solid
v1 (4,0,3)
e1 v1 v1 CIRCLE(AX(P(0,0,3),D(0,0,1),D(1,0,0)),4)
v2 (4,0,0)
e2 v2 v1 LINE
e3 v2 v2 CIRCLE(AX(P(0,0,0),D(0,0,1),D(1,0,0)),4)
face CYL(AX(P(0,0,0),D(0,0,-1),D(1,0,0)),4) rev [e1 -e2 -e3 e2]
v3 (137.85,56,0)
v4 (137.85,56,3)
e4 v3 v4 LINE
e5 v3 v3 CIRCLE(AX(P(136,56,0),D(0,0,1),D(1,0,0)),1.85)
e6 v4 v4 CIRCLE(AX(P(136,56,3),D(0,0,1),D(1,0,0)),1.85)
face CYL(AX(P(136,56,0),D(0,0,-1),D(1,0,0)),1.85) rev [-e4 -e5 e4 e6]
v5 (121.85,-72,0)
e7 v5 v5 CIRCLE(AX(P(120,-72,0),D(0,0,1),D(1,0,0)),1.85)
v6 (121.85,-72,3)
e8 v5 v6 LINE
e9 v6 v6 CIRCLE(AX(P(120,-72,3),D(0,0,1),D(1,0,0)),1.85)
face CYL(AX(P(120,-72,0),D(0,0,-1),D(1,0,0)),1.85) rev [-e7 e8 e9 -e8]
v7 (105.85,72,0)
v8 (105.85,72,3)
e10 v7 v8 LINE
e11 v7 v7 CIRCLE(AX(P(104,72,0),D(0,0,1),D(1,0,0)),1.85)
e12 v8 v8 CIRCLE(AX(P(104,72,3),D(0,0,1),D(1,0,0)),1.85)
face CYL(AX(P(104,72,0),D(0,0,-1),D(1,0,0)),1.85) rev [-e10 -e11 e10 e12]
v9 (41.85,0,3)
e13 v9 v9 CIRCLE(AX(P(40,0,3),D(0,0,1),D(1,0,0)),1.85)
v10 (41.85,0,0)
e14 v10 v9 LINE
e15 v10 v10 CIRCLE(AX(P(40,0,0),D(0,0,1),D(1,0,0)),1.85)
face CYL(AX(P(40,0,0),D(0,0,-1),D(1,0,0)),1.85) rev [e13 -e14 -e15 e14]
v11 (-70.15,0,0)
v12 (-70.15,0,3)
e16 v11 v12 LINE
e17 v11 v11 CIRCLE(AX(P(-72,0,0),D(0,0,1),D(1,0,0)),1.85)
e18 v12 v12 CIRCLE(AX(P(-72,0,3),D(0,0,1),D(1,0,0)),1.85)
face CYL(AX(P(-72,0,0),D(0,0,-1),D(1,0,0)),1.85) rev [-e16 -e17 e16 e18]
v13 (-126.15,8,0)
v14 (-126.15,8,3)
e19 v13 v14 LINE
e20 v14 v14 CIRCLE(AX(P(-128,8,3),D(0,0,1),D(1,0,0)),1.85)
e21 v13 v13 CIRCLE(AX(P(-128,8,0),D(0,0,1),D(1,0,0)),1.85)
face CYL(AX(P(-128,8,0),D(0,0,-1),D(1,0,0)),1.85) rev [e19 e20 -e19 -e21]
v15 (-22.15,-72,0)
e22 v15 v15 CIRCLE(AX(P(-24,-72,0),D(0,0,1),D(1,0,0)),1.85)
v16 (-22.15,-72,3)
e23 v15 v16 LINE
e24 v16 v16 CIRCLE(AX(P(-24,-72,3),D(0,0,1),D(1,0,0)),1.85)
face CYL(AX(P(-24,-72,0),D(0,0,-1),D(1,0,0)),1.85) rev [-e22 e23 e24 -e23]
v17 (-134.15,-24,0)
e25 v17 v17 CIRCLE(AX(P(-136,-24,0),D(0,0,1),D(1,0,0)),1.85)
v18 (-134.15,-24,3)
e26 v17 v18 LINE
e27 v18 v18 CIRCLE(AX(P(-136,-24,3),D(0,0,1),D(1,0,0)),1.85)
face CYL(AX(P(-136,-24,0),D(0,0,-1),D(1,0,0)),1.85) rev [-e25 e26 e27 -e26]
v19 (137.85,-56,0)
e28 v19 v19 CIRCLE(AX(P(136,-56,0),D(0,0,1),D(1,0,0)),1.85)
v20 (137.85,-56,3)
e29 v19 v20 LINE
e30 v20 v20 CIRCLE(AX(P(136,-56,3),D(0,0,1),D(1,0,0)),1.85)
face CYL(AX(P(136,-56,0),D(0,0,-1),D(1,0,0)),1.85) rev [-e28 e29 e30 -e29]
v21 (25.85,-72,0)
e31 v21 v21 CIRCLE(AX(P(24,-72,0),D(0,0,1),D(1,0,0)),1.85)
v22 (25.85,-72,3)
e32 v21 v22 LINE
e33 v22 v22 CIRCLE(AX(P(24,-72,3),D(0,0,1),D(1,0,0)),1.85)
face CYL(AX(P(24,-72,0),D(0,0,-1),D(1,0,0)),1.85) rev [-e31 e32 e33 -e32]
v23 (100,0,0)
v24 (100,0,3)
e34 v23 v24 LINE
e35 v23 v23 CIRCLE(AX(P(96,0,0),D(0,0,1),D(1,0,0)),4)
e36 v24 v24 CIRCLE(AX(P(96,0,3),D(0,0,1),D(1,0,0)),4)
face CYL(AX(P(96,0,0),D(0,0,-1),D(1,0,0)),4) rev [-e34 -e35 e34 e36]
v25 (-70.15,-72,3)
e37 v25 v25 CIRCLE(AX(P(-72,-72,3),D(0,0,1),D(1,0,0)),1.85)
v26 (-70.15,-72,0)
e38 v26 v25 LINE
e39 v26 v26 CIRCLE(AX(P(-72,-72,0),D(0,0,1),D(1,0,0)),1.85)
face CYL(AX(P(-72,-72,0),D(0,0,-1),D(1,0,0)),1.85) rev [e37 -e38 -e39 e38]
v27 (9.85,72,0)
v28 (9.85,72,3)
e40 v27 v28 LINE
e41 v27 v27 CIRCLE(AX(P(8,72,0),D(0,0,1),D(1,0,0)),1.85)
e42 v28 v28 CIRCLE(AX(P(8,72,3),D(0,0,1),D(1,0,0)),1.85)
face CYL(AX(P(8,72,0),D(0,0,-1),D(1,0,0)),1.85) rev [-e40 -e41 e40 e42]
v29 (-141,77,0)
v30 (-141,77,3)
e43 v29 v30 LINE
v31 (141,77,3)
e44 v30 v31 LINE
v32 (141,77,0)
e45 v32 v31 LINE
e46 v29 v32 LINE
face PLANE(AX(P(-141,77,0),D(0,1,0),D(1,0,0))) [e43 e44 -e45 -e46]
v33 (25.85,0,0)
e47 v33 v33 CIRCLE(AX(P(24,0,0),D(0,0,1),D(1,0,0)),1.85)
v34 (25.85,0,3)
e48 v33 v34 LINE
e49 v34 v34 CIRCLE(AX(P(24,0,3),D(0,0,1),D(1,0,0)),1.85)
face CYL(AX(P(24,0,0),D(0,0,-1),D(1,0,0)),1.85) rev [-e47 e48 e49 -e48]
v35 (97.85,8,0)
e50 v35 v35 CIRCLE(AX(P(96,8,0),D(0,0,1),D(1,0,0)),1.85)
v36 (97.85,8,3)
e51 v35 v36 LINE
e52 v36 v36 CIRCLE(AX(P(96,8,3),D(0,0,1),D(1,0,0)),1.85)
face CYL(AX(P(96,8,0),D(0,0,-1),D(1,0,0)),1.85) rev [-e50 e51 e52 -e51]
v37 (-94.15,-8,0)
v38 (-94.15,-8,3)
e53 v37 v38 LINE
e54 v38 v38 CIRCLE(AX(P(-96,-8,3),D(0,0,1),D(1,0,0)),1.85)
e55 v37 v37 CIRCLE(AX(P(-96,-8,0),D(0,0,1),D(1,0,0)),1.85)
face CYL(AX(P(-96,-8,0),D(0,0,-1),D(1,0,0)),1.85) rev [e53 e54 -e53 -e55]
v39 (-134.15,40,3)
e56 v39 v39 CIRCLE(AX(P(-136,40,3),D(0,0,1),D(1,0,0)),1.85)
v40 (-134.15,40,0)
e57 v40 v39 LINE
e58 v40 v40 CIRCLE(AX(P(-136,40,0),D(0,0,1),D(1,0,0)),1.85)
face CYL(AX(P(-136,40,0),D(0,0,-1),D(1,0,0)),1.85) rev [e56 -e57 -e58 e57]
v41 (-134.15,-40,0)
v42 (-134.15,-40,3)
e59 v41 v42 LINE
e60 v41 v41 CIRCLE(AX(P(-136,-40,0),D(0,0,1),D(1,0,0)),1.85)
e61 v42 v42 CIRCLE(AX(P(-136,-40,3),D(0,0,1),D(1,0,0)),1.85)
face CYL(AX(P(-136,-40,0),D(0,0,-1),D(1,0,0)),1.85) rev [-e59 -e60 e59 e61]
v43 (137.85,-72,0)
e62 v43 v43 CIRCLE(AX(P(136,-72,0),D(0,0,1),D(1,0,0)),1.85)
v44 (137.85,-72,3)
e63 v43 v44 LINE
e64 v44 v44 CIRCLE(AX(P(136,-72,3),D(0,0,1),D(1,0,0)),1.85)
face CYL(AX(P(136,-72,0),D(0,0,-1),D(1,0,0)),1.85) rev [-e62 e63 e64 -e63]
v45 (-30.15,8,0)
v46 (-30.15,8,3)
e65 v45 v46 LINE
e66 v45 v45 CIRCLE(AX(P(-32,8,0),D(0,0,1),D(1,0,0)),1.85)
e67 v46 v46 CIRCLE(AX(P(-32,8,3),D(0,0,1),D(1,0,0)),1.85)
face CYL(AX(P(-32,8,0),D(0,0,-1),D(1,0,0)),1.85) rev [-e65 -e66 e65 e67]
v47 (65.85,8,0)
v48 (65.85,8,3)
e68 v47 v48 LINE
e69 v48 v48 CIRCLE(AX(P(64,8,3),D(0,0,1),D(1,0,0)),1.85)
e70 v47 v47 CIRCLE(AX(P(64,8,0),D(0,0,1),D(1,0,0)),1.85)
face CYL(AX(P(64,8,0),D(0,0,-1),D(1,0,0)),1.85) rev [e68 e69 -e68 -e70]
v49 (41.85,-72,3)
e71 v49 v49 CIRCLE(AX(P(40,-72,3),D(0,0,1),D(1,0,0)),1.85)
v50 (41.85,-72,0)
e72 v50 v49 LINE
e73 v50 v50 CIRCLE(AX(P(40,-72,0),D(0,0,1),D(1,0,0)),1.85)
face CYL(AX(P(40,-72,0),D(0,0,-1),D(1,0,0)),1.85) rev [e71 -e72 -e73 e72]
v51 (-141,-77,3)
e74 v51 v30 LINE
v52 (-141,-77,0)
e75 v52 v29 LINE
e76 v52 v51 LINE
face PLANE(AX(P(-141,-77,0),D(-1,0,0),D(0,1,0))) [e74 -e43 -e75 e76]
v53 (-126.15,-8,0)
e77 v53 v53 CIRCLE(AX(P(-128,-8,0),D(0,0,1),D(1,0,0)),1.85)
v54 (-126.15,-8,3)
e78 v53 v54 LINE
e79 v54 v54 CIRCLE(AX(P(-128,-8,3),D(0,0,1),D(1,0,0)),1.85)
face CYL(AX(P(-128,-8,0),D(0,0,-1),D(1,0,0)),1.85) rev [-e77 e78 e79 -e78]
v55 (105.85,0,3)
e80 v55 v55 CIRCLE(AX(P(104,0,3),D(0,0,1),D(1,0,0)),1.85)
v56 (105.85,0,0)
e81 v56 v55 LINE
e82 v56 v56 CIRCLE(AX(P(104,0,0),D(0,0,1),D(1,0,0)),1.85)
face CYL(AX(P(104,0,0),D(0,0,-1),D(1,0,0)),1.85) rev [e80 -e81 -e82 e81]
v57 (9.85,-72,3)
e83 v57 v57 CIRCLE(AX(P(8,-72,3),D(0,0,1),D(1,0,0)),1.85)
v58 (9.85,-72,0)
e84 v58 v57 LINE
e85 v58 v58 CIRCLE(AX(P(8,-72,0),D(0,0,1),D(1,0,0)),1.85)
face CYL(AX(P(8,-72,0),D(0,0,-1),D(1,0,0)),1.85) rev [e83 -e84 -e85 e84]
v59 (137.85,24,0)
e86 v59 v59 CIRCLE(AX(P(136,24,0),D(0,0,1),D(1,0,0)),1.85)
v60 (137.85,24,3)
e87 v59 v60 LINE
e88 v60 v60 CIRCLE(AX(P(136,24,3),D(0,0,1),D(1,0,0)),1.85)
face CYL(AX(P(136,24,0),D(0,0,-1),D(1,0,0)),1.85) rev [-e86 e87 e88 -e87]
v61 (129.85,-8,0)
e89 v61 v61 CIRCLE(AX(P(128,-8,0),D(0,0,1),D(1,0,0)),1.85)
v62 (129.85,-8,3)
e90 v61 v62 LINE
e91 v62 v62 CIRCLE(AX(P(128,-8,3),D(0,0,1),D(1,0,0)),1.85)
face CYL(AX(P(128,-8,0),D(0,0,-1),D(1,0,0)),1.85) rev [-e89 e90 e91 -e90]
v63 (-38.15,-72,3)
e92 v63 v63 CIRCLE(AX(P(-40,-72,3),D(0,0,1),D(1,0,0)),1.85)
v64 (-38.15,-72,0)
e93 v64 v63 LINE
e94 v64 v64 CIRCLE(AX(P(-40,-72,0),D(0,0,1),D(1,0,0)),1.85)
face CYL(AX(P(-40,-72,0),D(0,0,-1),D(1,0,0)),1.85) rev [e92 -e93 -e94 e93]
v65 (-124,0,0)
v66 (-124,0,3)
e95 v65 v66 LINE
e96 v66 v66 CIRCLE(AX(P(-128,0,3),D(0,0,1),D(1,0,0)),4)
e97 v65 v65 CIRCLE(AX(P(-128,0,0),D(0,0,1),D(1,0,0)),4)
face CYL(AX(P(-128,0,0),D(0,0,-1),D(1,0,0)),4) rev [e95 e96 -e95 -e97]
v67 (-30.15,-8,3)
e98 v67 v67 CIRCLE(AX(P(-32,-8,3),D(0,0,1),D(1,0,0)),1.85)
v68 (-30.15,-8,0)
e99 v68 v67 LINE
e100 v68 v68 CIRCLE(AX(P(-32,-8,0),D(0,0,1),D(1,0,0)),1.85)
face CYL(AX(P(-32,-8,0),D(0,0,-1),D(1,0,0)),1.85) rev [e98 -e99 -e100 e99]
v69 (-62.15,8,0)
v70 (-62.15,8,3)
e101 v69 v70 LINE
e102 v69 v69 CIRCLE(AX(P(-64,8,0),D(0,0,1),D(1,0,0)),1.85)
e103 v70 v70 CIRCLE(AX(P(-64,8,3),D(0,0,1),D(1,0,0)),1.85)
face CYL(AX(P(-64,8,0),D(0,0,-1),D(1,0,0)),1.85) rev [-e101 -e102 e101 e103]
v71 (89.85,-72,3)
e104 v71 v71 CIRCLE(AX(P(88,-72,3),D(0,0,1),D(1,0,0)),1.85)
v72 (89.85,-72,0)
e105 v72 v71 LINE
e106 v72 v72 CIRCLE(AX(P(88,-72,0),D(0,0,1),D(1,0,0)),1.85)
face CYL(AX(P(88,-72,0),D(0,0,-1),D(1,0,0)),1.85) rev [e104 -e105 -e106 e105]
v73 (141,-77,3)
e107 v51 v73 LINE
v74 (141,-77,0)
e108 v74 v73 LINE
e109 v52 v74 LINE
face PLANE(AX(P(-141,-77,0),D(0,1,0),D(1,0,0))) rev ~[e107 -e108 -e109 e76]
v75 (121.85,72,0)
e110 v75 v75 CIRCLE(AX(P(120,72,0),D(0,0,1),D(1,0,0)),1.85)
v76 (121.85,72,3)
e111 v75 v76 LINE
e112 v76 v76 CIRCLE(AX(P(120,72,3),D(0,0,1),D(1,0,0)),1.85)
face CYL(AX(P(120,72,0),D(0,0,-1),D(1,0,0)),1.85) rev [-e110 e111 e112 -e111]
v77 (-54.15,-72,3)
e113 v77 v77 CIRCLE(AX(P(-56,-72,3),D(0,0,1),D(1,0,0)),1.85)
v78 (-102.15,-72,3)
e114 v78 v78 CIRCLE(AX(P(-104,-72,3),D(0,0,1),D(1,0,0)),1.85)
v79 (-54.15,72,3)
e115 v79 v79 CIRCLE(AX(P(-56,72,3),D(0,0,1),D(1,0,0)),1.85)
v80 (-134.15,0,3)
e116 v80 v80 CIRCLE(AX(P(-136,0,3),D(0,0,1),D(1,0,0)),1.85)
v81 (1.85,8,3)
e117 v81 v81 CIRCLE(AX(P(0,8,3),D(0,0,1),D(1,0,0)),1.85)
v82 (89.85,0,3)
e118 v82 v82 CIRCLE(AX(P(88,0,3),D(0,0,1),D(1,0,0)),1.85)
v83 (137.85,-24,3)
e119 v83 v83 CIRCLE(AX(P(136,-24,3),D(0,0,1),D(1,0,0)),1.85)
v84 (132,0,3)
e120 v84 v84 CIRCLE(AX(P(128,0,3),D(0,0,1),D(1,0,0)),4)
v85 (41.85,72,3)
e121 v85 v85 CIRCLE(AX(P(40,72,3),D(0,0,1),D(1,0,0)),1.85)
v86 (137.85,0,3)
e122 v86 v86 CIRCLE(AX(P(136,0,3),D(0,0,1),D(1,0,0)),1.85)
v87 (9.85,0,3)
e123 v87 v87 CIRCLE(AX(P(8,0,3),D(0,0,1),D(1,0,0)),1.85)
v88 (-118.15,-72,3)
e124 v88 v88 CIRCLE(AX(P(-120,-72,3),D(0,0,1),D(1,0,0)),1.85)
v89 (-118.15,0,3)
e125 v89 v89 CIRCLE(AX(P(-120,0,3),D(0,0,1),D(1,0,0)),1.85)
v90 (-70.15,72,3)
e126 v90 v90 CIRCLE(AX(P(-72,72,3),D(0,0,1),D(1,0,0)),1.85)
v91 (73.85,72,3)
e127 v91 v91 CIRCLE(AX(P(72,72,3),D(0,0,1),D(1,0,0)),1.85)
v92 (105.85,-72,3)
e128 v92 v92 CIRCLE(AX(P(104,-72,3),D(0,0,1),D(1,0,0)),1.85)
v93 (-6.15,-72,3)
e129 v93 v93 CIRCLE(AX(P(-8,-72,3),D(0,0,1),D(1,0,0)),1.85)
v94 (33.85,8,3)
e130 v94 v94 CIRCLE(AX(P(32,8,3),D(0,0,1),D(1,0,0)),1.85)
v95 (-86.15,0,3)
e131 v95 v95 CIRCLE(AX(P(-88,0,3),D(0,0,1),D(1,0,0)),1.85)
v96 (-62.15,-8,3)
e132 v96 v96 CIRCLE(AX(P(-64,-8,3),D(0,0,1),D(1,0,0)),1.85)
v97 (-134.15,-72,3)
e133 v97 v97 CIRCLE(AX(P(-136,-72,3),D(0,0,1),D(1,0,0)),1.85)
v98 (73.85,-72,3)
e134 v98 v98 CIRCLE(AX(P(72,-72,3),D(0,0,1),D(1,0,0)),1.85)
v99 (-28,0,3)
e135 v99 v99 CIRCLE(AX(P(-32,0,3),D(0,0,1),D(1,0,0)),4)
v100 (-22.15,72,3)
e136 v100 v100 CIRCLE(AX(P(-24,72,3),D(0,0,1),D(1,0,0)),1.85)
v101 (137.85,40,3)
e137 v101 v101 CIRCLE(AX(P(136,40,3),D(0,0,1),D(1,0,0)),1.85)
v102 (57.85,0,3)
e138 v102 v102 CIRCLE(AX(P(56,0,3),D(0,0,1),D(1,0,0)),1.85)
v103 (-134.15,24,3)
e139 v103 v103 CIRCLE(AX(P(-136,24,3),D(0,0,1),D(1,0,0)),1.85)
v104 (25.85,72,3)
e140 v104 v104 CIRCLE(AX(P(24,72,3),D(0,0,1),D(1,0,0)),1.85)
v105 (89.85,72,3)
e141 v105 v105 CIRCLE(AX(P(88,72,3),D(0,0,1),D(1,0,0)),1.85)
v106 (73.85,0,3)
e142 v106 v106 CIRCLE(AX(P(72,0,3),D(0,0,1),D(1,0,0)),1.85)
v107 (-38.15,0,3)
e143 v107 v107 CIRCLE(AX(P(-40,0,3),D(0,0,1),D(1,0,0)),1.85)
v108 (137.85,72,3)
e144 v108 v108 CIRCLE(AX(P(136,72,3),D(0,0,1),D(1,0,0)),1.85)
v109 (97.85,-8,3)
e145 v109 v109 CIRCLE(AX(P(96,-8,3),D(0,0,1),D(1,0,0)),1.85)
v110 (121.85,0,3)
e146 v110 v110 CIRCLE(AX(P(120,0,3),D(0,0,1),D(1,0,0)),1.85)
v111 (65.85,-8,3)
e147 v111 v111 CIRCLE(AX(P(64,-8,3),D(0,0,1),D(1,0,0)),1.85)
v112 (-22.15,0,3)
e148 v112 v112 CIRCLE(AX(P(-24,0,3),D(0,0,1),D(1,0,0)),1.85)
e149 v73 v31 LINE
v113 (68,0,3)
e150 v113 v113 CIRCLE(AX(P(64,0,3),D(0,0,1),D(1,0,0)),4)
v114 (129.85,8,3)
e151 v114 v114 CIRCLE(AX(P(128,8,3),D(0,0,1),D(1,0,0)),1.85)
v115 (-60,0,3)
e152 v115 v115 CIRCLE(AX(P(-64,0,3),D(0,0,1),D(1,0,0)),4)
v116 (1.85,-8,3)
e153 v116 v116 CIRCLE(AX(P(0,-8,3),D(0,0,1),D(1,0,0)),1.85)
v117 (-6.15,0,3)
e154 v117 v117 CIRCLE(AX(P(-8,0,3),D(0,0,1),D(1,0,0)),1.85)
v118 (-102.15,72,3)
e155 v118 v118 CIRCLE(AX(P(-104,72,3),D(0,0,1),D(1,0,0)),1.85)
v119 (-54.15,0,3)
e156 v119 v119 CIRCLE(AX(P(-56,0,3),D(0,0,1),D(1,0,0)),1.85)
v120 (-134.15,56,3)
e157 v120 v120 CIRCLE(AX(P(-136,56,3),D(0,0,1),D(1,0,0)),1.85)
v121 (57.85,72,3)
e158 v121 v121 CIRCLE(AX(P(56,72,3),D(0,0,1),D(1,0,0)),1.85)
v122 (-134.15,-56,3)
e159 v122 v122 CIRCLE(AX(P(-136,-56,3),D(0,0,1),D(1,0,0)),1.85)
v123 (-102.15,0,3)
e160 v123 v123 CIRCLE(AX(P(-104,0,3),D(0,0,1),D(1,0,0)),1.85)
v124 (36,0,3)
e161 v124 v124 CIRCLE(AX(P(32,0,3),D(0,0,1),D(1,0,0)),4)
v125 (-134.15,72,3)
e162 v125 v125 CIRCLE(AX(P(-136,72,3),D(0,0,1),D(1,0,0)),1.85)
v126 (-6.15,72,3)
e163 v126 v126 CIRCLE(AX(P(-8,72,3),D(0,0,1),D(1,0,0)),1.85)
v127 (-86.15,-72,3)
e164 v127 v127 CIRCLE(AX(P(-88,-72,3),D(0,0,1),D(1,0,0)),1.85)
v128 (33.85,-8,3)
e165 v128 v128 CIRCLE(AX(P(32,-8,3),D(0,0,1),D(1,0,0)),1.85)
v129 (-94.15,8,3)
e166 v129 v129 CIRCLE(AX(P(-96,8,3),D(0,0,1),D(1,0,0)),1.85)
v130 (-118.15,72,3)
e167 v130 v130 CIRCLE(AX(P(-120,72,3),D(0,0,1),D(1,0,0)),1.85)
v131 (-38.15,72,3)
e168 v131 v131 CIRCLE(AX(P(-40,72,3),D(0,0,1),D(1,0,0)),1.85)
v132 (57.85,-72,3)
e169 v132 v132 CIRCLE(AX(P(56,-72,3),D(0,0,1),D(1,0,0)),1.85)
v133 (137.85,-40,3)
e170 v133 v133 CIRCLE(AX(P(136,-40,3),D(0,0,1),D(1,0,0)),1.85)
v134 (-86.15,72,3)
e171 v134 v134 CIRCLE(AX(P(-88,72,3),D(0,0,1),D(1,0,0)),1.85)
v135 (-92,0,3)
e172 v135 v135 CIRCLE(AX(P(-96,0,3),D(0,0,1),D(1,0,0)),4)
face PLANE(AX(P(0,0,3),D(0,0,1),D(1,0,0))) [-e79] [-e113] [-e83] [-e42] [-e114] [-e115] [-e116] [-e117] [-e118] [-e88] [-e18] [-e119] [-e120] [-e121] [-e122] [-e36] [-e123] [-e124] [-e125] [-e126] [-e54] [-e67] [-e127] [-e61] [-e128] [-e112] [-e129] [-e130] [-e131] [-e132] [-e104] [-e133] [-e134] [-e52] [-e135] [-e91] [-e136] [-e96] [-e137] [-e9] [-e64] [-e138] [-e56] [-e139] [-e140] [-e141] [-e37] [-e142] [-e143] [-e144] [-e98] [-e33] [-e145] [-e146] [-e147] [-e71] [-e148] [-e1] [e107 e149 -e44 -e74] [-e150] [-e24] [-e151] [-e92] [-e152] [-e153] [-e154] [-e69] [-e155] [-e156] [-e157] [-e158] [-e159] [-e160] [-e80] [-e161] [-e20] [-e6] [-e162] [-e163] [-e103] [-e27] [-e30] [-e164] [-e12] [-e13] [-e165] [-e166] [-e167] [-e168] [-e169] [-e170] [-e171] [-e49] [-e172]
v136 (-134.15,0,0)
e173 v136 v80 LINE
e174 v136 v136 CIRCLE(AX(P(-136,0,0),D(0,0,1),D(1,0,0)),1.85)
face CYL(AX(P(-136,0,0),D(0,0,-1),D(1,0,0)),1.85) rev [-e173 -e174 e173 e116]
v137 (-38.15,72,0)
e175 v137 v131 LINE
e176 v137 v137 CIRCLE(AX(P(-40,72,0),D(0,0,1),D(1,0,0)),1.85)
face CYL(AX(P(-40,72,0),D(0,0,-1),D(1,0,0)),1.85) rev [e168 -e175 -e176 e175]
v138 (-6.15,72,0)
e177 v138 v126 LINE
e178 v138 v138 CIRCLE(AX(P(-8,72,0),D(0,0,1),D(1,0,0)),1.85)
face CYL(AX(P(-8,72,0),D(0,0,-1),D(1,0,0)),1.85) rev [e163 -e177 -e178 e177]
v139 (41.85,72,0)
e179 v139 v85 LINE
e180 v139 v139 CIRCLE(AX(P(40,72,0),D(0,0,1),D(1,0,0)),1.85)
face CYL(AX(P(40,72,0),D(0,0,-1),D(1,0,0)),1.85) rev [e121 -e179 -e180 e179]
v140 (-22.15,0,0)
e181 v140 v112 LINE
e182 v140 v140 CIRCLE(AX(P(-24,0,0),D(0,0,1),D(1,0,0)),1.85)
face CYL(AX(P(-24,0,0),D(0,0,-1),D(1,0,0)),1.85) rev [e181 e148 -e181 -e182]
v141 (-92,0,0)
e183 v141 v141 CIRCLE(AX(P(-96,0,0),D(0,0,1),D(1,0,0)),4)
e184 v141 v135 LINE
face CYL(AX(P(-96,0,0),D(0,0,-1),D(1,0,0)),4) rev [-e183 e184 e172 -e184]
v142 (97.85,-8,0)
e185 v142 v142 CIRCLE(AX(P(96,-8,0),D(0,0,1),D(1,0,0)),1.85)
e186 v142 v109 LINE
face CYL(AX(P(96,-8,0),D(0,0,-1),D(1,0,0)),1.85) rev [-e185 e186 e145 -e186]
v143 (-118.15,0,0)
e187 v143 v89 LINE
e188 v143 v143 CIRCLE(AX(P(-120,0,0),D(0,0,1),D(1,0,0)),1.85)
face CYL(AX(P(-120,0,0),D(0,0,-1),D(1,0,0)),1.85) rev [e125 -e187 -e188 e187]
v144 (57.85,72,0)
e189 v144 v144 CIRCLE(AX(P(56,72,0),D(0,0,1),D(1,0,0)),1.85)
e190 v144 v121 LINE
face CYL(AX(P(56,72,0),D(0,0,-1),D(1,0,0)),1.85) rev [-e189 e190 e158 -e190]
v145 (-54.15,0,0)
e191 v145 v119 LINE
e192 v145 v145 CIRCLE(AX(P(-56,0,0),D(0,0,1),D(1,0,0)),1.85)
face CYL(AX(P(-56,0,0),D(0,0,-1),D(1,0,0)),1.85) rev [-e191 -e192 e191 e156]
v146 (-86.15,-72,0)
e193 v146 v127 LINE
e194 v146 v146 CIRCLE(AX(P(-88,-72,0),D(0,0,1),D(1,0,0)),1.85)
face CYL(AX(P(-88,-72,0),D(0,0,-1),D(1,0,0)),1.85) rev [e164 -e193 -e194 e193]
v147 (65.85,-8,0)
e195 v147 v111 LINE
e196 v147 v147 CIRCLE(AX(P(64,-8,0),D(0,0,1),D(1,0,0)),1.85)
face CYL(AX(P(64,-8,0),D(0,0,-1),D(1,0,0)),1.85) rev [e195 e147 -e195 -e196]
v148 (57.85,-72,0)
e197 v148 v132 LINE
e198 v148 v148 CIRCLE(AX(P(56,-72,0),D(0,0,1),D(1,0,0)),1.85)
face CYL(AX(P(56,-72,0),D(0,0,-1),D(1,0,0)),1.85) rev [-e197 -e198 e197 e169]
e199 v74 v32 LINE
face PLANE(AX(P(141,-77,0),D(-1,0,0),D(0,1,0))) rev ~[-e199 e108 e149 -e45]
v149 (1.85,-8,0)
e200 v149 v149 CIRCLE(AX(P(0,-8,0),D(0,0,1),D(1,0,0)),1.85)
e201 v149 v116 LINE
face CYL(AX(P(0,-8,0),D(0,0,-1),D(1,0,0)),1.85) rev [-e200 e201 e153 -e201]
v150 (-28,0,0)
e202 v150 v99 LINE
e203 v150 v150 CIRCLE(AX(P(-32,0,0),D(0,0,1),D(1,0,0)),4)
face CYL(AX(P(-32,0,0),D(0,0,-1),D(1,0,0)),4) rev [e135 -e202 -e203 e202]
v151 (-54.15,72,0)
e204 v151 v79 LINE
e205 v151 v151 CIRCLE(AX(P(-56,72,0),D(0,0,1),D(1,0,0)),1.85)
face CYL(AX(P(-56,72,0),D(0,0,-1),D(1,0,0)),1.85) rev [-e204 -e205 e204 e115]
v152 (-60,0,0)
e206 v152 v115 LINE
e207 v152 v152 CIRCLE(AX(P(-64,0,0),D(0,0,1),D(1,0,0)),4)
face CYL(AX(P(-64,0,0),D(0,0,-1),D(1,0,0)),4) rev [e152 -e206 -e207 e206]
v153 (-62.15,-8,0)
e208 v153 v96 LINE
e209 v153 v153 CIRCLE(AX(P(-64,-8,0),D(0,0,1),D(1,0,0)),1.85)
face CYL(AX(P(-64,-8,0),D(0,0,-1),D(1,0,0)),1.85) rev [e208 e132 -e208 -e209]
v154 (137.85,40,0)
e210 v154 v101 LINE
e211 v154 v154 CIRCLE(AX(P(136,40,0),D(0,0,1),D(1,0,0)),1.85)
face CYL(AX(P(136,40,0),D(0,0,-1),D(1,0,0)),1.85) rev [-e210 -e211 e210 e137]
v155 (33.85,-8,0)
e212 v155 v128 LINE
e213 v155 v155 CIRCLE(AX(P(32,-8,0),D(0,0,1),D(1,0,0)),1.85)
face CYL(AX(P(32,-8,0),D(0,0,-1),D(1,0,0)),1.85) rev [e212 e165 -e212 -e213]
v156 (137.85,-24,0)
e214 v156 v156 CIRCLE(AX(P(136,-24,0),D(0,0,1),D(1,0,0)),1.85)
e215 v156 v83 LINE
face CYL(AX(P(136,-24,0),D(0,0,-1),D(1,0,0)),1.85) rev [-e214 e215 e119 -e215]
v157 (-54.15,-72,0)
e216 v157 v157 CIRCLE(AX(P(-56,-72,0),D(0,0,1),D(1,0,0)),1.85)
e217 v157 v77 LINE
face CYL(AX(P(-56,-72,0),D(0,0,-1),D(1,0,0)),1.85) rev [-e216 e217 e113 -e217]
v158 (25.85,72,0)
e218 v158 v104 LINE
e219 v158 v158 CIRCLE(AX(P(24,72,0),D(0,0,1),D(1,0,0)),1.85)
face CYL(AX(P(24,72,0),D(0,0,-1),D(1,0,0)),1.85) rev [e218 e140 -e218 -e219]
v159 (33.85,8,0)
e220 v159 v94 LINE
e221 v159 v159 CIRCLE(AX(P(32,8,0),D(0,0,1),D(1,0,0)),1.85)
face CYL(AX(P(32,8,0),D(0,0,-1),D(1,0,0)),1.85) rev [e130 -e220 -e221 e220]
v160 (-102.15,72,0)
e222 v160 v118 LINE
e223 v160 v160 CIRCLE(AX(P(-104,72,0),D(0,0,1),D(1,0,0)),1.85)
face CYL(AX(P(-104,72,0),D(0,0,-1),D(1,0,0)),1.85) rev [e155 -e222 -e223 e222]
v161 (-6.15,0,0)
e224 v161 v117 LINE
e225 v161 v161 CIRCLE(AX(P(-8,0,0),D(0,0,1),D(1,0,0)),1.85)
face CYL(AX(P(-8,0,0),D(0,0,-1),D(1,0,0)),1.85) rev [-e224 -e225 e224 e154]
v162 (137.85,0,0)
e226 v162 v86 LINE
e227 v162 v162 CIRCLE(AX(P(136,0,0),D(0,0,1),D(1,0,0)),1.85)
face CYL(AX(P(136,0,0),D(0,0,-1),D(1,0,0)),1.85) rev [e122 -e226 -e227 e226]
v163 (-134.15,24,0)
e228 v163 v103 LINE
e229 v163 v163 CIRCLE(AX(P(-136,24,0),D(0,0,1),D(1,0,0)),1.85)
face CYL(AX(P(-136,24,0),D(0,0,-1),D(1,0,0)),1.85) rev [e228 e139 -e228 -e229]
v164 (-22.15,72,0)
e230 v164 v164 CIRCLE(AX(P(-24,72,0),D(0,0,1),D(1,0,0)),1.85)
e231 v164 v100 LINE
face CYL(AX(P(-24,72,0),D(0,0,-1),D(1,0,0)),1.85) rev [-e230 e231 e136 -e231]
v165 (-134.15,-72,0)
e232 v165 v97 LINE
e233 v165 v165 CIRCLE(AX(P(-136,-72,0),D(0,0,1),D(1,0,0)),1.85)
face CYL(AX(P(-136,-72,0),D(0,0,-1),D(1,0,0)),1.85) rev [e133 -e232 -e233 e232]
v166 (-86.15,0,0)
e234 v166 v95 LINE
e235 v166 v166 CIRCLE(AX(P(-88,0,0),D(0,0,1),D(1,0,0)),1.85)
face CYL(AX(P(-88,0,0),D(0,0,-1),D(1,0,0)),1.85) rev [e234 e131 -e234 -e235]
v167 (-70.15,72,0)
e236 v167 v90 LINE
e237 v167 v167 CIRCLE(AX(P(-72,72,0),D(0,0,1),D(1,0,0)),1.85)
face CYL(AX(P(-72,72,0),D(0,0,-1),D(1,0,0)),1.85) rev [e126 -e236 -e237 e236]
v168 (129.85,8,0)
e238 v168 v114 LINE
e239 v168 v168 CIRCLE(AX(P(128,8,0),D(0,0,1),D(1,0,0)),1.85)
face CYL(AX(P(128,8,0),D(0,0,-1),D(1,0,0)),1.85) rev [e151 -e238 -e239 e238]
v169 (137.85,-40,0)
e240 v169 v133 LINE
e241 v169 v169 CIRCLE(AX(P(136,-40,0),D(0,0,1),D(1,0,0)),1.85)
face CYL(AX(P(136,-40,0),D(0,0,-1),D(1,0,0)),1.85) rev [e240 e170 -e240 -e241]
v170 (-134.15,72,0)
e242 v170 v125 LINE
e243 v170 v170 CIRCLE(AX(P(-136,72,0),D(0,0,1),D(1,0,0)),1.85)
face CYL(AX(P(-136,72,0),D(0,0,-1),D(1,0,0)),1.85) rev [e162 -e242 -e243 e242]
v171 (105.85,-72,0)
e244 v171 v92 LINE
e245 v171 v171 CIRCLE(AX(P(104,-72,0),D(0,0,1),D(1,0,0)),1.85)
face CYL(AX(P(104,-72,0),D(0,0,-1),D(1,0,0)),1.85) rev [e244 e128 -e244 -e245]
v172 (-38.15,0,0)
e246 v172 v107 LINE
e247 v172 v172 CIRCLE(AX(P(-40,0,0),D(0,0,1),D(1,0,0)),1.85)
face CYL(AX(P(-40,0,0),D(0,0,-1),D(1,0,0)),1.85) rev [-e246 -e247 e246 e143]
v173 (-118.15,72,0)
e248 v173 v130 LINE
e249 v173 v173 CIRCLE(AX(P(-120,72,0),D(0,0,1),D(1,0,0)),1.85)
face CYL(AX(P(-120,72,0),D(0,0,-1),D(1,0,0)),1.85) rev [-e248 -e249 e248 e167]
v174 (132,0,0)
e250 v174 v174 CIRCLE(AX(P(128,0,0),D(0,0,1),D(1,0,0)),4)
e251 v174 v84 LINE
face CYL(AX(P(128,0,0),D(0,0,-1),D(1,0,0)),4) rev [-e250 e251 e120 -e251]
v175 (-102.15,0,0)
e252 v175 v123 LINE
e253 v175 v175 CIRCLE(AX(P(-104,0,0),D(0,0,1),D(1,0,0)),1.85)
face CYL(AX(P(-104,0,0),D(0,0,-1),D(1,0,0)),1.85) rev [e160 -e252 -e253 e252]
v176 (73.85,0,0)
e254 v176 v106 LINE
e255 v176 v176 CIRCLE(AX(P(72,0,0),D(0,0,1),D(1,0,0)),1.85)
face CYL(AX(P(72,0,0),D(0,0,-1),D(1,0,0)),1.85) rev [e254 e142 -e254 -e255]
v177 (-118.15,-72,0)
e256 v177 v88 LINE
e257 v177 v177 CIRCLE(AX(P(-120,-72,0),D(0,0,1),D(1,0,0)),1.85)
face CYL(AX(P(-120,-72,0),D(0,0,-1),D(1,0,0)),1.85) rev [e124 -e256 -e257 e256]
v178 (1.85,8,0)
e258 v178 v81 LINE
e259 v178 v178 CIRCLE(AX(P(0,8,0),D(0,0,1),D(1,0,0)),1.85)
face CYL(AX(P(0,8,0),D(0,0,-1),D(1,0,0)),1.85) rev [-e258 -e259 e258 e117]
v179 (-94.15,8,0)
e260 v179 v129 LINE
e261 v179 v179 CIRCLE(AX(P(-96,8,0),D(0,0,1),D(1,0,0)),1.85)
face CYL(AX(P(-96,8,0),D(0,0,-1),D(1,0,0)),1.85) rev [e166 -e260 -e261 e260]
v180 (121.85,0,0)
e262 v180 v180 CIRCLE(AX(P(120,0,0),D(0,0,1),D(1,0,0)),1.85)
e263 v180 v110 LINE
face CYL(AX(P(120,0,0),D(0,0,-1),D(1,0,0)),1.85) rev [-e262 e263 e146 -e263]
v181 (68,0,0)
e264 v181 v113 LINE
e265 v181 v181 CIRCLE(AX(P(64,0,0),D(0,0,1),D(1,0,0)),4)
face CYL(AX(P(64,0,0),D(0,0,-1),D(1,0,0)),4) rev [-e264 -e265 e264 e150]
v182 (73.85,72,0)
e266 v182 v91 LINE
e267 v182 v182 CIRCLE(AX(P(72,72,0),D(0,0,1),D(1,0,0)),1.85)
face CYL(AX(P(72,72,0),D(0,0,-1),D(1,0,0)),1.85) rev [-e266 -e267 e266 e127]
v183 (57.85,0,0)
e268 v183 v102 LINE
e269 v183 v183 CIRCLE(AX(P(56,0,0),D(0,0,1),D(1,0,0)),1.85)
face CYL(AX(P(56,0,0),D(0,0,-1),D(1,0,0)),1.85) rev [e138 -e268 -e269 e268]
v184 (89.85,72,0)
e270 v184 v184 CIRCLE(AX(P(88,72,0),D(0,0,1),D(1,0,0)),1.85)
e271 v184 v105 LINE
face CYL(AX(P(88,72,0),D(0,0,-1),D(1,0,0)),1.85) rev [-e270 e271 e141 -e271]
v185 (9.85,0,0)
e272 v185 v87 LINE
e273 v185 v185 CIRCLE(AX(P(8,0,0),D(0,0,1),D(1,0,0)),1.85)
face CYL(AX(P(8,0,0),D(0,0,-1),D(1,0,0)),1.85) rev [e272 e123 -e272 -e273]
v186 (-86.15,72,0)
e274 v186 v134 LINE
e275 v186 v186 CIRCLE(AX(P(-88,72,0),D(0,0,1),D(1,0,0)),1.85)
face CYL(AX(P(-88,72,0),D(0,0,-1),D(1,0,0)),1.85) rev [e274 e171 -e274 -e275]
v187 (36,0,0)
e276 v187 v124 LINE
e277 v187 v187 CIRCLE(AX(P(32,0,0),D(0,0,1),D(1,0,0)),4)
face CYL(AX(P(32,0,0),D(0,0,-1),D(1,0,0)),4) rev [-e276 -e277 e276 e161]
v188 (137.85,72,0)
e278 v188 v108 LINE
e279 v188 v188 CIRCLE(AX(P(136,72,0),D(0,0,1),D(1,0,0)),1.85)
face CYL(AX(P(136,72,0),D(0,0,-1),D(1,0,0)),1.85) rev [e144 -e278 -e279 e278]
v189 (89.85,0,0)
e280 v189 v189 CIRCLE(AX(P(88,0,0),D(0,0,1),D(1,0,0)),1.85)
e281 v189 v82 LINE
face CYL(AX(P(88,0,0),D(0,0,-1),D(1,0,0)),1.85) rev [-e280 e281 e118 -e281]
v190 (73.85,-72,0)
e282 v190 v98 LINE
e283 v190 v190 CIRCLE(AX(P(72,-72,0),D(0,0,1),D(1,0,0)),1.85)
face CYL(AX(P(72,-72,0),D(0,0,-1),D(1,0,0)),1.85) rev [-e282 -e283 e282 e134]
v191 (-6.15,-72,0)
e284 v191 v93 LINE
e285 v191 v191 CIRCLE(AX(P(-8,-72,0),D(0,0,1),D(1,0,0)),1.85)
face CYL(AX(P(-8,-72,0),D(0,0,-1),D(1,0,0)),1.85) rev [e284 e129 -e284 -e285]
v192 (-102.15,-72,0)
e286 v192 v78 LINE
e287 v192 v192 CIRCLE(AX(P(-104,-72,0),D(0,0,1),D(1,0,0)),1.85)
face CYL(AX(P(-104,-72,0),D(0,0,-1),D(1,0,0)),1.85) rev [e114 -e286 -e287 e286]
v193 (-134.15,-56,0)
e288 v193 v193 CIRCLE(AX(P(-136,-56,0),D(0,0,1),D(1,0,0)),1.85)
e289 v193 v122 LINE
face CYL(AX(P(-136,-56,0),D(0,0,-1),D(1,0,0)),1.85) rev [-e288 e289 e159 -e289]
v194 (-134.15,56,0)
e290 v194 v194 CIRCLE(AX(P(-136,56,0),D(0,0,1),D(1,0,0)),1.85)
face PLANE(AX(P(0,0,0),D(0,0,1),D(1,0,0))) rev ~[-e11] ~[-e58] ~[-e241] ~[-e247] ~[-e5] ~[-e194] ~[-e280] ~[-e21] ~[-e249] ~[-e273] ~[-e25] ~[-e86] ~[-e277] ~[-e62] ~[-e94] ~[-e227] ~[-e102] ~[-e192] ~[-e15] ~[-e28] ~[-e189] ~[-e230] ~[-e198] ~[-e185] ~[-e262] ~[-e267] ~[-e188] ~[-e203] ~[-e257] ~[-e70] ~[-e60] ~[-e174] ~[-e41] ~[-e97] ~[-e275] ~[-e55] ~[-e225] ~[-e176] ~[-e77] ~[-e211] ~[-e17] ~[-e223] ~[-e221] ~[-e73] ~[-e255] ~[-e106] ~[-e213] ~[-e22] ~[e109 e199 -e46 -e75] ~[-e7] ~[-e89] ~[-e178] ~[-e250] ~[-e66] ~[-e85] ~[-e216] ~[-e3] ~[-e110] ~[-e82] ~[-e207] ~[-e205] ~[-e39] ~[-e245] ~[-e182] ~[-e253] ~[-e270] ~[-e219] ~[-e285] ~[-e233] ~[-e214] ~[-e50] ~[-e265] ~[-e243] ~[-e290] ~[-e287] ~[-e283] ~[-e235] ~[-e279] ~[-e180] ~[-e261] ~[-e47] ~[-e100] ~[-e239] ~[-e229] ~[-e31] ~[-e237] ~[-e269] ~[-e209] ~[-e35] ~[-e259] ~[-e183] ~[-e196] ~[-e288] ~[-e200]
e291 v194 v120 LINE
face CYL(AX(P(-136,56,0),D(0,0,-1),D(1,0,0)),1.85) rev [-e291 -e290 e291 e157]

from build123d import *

# Parameters (mm, degrees)
F0_W     = 282
F0_H     = 154
F0_R     = 1.85
F0_R_2   = 4
F1_DEPTH = 3


with BuildPart() as f1:
    # F0 (on Top) → F1 (new body)
    with BuildSketch(Plane.XY):
        Rectangle(F0_W, F0_H)
        with Locations((-136, -72)):
            Circle(F0_R, mode=Mode.SUBTRACT)
        with Locations((-120, -72)):
            Circle(F0_R, mode=Mode.SUBTRACT)
        with Locations((-104, -72)):
            Circle(F0_R, mode=Mode.SUBTRACT)
        with Locations((-88, -72)):
            Circle(F0_R, mode=Mode.SUBTRACT)
        with Locations((-72, -72)):
            Circle(F0_R, mode=Mode.SUBTRACT)
        with Locations((-136, -56)):
            Circle(F0_R, mode=Mode.SUBTRACT)
        with Locations((-136, -40)):
            Circle(F0_R, mode=Mode.SUBTRACT)
        with Locations((-56, -72)):
            Circle(F0_R, mode=Mode.SUBTRACT)
        with Locations((-40, -72)):
            Circle(F0_R, mode=Mode.SUBTRACT)
        with Locations((-24, -72)):
            Circle(F0_R, mode=Mode.SUBTRACT)
        with Locations((-8, -72)):
            Circle(F0_R, mode=Mode.SUBTRACT)
        with Locations((-136, -24)):
            Circle(F0_R, mode=Mode.SUBTRACT)
        with Locations((-128, -8)):
            Circle(F0_R, mode=Mode.SUBTRACT)
        with Locations((-96, -8)):
            Circle(F0_R, mode=Mode.SUBTRACT)
        with Locations((-64, -8)):
            Circle(F0_R, mode=Mode.SUBTRACT)
        with Locations((-32, -8)):
            Circle(F0_R, mode=Mode.SUBTRACT)
        with Locations((8, -72)):
            Circle(F0_R, mode=Mode.SUBTRACT)
        with Locations((24, -72)):
            Circle(F0_R, mode=Mode.SUBTRACT)
        with Locations((40, -72)):
            Circle(F0_R, mode=Mode.SUBTRACT)
        with Locations((56, -72)):
            Circle(F0_R, mode=Mode.SUBTRACT)
        with Locations((72, -72)):
            Circle(F0_R, mode=Mode.SUBTRACT)
        with Locations((88, -72)):
            Circle(F0_R, mode=Mode.SUBTRACT)
        with Locations((104, -72)):
            Circle(F0_R, mode=Mode.SUBTRACT)
        with Locations((120, -72)):
            Circle(F0_R, mode=Mode.SUBTRACT)
        with Locations((136, -72)):
            Circle(F0_R, mode=Mode.SUBTRACT)
        with Locations((136, -56)):
            Circle(F0_R, mode=Mode.SUBTRACT)
        with Locations((136, -40)):
            Circle(F0_R, mode=Mode.SUBTRACT)
        with Locations((0, -8)):
            Circle(F0_R, mode=Mode.SUBTRACT)
        with Locations((32, -8)):
            Circle(F0_R, mode=Mode.SUBTRACT)
        with Locations((64, -8)):
            Circle(F0_R, mode=Mode.SUBTRACT)
        with Locations((136, -24)):
            Circle(F0_R, mode=Mode.SUBTRACT)
        with Locations((96, -8)):
            Circle(F0_R, mode=Mode.SUBTRACT)
        with Locations((128, -8)):
            Circle(F0_R, mode=Mode.SUBTRACT)
        with Locations((-136, 0)):
            Circle(F0_R, mode=Mode.SUBTRACT)
        with Locations((-128, 0)):
            Circle(F0_R_2, mode=Mode.SUBTRACT)
        with Locations((-128, 8)):
            Circle(F0_R, mode=Mode.SUBTRACT)
        with Locations((-120, 0)):
            Circle(F0_R, mode=Mode.SUBTRACT)
        with Locations((-104, 0)):
            Circle(F0_R, mode=Mode.SUBTRACT)
        with Locations((-96, 0)):
            Circle(F0_R_2, mode=Mode.SUBTRACT)
        with Locations((-96, 8)):
            Circle(F0_R, mode=Mode.SUBTRACT)
        with Locations((-88, 0)):
            Circle(F0_R, mode=Mode.SUBTRACT)
        with Locations((-72, 0)):
            Circle(F0_R, mode=Mode.SUBTRACT)
        with Locations((-136, 24)):
            Circle(F0_R, mode=Mode.SUBTRACT)
        with Locations((-64, 0)):
            Circle(F0_R_2, mode=Mode.SUBTRACT)
        with Locations((-56, 0)):
            Circle(F0_R, mode=Mode.SUBTRACT)
        with Locations((-64, 8)):
            Circle(F0_R, mode=Mode.SUBTRACT)
        with Locations((-40, 0)):
            Circle(F0_R, mode=Mode.SUBTRACT)
        with Locations((-32, 0)):
            Circle(F0_R_2, mode=Mode.SUBTRACT)
        with Locations((-24, 0)):
            Circle(F0_R, mode=Mode.SUBTRACT)
        with Locations((-32, 8)):
            Circle(F0_R, mode=Mode.SUBTRACT)
        with Locations((-8, 0)):
            Circle(F0_R, mode=Mode.SUBTRACT)
        with Locations((-136, 40)):
            Circle(F0_R, mode=Mode.SUBTRACT)
        with Locations((-136, 56)):
            Circle(F0_R, mode=Mode.SUBTRACT)
        with Locations((-136, 72)):
            Circle(F0_R, mode=Mode.SUBTRACT)
        with Locations((-120, 72)):
            Circle(F0_R, mode=Mode.SUBTRACT)
        with Locations((-104, 72)):
            Circle(F0_R, mode=Mode.SUBTRACT)
        with Locations((-88, 72)):
            Circle(F0_R, mode=Mode.SUBTRACT)
        with Locations((-72, 72)):
            Circle(F0_R, mode=Mode.SUBTRACT)
        with Locations((-56, 72)):
            Circle(F0_R, mode=Mode.SUBTRACT)
        with Locations((-40, 72)):
            Circle(F0_R, mode=Mode.SUBTRACT)
        with Locations((-24, 72)):
            Circle(F0_R, mode=Mode.SUBTRACT)
        with Locations((-8, 72)):
            Circle(F0_R, mode=Mode.SUBTRACT)
        Circle(F0_R_2, mode=Mode.SUBTRACT)
        with Locations((8, 0)):
            Circle(F0_R, mode=Mode.SUBTRACT)
        with Locations((0, 8)):
            Circle(F0_R, mode=Mode.SUBTRACT)
        with Locations((24, 0)):
            Circle(F0_R, mode=Mode.SUBTRACT)
        with Locations((32, 0)):
            Circle(F0_R_2, mode=Mode.SUBTRACT)
        with Locations((32, 8)):
            Circle(F0_R, mode=Mode.SUBTRACT)
        with Locations((40, 0)):
            Circle(F0_R, mode=Mode.SUBTRACT)
        with Locations((56, 0)):
            Circle(F0_R, mode=Mode.SUBTRACT)
        with Locations((64, 0)):
            Circle(F0_R_2, mode=Mode.SUBTRACT)
        with Locations((64, 8)):
            Circle(F0_R, mode=Mode.SUBTRACT)
        with Locations((72, 0)):
            Circle(F0_R, mode=Mode.SUBTRACT)
        with Locations((88, 0)):
            Circle(F0_R, mode=Mode.SUBTRACT)
        with Locations((96, 0)):
            Circle(F0_R_2, mode=Mode.SUBTRACT)
        with Locations((104, 0)):
            Circle(F0_R, mode=Mode.SUBTRACT)
        with Locations((96, 8)):
            Circle(F0_R, mode=Mode.SUBTRACT)
        with Locations((120, 0)):
            Circle(F0_R, mode=Mode.SUBTRACT)
        with Locations((128, 0)):
            Circle(F0_R_2, mode=Mode.SUBTRACT)
        with Locations((136, 0)):
            Circle(F0_R, mode=Mode.SUBTRACT)
        with Locations((128, 8)):
            Circle(F0_R, mode=Mode.SUBTRACT)
        with Locations((136, 24)):
            Circle(F0_R, mode=Mode.SUBTRACT)
        with Locations((8, 72)):
            Circle(F0_R, mode=Mode.SUBTRACT)
        with Locations((24, 72)):
            Circle(F0_R, mode=Mode.SUBTRACT)
        with Locations((40, 72)):
            Circle(F0_R, mode=Mode.SUBTRACT)
        with Locations((56, 72)):
            Circle(F0_R, mode=Mode.SUBTRACT)
        with Locations((136, 40)):
            Circle(F0_R, mode=Mode.SUBTRACT)
        with Locations((136, 56)):
            Circle(F0_R, mode=Mode.SUBTRACT)
        with Locations((72, 72)):
            Circle(F0_R, mode=Mode.SUBTRACT)
        with Locations((88, 72)):
            Circle(F0_R, mode=Mode.SUBTRACT)
        with Locations((104, 72)):
            Circle(F0_R, mode=Mode.SUBTRACT)
        with Locations((120, 72)):
            Circle(F0_R, mode=Mode.SUBTRACT)
        with Locations((136, 72)):
            Circle(F0_R, mode=Mode.SUBTRACT)
    extrude(amount=F1_DEPTH)


solid = f1.part
